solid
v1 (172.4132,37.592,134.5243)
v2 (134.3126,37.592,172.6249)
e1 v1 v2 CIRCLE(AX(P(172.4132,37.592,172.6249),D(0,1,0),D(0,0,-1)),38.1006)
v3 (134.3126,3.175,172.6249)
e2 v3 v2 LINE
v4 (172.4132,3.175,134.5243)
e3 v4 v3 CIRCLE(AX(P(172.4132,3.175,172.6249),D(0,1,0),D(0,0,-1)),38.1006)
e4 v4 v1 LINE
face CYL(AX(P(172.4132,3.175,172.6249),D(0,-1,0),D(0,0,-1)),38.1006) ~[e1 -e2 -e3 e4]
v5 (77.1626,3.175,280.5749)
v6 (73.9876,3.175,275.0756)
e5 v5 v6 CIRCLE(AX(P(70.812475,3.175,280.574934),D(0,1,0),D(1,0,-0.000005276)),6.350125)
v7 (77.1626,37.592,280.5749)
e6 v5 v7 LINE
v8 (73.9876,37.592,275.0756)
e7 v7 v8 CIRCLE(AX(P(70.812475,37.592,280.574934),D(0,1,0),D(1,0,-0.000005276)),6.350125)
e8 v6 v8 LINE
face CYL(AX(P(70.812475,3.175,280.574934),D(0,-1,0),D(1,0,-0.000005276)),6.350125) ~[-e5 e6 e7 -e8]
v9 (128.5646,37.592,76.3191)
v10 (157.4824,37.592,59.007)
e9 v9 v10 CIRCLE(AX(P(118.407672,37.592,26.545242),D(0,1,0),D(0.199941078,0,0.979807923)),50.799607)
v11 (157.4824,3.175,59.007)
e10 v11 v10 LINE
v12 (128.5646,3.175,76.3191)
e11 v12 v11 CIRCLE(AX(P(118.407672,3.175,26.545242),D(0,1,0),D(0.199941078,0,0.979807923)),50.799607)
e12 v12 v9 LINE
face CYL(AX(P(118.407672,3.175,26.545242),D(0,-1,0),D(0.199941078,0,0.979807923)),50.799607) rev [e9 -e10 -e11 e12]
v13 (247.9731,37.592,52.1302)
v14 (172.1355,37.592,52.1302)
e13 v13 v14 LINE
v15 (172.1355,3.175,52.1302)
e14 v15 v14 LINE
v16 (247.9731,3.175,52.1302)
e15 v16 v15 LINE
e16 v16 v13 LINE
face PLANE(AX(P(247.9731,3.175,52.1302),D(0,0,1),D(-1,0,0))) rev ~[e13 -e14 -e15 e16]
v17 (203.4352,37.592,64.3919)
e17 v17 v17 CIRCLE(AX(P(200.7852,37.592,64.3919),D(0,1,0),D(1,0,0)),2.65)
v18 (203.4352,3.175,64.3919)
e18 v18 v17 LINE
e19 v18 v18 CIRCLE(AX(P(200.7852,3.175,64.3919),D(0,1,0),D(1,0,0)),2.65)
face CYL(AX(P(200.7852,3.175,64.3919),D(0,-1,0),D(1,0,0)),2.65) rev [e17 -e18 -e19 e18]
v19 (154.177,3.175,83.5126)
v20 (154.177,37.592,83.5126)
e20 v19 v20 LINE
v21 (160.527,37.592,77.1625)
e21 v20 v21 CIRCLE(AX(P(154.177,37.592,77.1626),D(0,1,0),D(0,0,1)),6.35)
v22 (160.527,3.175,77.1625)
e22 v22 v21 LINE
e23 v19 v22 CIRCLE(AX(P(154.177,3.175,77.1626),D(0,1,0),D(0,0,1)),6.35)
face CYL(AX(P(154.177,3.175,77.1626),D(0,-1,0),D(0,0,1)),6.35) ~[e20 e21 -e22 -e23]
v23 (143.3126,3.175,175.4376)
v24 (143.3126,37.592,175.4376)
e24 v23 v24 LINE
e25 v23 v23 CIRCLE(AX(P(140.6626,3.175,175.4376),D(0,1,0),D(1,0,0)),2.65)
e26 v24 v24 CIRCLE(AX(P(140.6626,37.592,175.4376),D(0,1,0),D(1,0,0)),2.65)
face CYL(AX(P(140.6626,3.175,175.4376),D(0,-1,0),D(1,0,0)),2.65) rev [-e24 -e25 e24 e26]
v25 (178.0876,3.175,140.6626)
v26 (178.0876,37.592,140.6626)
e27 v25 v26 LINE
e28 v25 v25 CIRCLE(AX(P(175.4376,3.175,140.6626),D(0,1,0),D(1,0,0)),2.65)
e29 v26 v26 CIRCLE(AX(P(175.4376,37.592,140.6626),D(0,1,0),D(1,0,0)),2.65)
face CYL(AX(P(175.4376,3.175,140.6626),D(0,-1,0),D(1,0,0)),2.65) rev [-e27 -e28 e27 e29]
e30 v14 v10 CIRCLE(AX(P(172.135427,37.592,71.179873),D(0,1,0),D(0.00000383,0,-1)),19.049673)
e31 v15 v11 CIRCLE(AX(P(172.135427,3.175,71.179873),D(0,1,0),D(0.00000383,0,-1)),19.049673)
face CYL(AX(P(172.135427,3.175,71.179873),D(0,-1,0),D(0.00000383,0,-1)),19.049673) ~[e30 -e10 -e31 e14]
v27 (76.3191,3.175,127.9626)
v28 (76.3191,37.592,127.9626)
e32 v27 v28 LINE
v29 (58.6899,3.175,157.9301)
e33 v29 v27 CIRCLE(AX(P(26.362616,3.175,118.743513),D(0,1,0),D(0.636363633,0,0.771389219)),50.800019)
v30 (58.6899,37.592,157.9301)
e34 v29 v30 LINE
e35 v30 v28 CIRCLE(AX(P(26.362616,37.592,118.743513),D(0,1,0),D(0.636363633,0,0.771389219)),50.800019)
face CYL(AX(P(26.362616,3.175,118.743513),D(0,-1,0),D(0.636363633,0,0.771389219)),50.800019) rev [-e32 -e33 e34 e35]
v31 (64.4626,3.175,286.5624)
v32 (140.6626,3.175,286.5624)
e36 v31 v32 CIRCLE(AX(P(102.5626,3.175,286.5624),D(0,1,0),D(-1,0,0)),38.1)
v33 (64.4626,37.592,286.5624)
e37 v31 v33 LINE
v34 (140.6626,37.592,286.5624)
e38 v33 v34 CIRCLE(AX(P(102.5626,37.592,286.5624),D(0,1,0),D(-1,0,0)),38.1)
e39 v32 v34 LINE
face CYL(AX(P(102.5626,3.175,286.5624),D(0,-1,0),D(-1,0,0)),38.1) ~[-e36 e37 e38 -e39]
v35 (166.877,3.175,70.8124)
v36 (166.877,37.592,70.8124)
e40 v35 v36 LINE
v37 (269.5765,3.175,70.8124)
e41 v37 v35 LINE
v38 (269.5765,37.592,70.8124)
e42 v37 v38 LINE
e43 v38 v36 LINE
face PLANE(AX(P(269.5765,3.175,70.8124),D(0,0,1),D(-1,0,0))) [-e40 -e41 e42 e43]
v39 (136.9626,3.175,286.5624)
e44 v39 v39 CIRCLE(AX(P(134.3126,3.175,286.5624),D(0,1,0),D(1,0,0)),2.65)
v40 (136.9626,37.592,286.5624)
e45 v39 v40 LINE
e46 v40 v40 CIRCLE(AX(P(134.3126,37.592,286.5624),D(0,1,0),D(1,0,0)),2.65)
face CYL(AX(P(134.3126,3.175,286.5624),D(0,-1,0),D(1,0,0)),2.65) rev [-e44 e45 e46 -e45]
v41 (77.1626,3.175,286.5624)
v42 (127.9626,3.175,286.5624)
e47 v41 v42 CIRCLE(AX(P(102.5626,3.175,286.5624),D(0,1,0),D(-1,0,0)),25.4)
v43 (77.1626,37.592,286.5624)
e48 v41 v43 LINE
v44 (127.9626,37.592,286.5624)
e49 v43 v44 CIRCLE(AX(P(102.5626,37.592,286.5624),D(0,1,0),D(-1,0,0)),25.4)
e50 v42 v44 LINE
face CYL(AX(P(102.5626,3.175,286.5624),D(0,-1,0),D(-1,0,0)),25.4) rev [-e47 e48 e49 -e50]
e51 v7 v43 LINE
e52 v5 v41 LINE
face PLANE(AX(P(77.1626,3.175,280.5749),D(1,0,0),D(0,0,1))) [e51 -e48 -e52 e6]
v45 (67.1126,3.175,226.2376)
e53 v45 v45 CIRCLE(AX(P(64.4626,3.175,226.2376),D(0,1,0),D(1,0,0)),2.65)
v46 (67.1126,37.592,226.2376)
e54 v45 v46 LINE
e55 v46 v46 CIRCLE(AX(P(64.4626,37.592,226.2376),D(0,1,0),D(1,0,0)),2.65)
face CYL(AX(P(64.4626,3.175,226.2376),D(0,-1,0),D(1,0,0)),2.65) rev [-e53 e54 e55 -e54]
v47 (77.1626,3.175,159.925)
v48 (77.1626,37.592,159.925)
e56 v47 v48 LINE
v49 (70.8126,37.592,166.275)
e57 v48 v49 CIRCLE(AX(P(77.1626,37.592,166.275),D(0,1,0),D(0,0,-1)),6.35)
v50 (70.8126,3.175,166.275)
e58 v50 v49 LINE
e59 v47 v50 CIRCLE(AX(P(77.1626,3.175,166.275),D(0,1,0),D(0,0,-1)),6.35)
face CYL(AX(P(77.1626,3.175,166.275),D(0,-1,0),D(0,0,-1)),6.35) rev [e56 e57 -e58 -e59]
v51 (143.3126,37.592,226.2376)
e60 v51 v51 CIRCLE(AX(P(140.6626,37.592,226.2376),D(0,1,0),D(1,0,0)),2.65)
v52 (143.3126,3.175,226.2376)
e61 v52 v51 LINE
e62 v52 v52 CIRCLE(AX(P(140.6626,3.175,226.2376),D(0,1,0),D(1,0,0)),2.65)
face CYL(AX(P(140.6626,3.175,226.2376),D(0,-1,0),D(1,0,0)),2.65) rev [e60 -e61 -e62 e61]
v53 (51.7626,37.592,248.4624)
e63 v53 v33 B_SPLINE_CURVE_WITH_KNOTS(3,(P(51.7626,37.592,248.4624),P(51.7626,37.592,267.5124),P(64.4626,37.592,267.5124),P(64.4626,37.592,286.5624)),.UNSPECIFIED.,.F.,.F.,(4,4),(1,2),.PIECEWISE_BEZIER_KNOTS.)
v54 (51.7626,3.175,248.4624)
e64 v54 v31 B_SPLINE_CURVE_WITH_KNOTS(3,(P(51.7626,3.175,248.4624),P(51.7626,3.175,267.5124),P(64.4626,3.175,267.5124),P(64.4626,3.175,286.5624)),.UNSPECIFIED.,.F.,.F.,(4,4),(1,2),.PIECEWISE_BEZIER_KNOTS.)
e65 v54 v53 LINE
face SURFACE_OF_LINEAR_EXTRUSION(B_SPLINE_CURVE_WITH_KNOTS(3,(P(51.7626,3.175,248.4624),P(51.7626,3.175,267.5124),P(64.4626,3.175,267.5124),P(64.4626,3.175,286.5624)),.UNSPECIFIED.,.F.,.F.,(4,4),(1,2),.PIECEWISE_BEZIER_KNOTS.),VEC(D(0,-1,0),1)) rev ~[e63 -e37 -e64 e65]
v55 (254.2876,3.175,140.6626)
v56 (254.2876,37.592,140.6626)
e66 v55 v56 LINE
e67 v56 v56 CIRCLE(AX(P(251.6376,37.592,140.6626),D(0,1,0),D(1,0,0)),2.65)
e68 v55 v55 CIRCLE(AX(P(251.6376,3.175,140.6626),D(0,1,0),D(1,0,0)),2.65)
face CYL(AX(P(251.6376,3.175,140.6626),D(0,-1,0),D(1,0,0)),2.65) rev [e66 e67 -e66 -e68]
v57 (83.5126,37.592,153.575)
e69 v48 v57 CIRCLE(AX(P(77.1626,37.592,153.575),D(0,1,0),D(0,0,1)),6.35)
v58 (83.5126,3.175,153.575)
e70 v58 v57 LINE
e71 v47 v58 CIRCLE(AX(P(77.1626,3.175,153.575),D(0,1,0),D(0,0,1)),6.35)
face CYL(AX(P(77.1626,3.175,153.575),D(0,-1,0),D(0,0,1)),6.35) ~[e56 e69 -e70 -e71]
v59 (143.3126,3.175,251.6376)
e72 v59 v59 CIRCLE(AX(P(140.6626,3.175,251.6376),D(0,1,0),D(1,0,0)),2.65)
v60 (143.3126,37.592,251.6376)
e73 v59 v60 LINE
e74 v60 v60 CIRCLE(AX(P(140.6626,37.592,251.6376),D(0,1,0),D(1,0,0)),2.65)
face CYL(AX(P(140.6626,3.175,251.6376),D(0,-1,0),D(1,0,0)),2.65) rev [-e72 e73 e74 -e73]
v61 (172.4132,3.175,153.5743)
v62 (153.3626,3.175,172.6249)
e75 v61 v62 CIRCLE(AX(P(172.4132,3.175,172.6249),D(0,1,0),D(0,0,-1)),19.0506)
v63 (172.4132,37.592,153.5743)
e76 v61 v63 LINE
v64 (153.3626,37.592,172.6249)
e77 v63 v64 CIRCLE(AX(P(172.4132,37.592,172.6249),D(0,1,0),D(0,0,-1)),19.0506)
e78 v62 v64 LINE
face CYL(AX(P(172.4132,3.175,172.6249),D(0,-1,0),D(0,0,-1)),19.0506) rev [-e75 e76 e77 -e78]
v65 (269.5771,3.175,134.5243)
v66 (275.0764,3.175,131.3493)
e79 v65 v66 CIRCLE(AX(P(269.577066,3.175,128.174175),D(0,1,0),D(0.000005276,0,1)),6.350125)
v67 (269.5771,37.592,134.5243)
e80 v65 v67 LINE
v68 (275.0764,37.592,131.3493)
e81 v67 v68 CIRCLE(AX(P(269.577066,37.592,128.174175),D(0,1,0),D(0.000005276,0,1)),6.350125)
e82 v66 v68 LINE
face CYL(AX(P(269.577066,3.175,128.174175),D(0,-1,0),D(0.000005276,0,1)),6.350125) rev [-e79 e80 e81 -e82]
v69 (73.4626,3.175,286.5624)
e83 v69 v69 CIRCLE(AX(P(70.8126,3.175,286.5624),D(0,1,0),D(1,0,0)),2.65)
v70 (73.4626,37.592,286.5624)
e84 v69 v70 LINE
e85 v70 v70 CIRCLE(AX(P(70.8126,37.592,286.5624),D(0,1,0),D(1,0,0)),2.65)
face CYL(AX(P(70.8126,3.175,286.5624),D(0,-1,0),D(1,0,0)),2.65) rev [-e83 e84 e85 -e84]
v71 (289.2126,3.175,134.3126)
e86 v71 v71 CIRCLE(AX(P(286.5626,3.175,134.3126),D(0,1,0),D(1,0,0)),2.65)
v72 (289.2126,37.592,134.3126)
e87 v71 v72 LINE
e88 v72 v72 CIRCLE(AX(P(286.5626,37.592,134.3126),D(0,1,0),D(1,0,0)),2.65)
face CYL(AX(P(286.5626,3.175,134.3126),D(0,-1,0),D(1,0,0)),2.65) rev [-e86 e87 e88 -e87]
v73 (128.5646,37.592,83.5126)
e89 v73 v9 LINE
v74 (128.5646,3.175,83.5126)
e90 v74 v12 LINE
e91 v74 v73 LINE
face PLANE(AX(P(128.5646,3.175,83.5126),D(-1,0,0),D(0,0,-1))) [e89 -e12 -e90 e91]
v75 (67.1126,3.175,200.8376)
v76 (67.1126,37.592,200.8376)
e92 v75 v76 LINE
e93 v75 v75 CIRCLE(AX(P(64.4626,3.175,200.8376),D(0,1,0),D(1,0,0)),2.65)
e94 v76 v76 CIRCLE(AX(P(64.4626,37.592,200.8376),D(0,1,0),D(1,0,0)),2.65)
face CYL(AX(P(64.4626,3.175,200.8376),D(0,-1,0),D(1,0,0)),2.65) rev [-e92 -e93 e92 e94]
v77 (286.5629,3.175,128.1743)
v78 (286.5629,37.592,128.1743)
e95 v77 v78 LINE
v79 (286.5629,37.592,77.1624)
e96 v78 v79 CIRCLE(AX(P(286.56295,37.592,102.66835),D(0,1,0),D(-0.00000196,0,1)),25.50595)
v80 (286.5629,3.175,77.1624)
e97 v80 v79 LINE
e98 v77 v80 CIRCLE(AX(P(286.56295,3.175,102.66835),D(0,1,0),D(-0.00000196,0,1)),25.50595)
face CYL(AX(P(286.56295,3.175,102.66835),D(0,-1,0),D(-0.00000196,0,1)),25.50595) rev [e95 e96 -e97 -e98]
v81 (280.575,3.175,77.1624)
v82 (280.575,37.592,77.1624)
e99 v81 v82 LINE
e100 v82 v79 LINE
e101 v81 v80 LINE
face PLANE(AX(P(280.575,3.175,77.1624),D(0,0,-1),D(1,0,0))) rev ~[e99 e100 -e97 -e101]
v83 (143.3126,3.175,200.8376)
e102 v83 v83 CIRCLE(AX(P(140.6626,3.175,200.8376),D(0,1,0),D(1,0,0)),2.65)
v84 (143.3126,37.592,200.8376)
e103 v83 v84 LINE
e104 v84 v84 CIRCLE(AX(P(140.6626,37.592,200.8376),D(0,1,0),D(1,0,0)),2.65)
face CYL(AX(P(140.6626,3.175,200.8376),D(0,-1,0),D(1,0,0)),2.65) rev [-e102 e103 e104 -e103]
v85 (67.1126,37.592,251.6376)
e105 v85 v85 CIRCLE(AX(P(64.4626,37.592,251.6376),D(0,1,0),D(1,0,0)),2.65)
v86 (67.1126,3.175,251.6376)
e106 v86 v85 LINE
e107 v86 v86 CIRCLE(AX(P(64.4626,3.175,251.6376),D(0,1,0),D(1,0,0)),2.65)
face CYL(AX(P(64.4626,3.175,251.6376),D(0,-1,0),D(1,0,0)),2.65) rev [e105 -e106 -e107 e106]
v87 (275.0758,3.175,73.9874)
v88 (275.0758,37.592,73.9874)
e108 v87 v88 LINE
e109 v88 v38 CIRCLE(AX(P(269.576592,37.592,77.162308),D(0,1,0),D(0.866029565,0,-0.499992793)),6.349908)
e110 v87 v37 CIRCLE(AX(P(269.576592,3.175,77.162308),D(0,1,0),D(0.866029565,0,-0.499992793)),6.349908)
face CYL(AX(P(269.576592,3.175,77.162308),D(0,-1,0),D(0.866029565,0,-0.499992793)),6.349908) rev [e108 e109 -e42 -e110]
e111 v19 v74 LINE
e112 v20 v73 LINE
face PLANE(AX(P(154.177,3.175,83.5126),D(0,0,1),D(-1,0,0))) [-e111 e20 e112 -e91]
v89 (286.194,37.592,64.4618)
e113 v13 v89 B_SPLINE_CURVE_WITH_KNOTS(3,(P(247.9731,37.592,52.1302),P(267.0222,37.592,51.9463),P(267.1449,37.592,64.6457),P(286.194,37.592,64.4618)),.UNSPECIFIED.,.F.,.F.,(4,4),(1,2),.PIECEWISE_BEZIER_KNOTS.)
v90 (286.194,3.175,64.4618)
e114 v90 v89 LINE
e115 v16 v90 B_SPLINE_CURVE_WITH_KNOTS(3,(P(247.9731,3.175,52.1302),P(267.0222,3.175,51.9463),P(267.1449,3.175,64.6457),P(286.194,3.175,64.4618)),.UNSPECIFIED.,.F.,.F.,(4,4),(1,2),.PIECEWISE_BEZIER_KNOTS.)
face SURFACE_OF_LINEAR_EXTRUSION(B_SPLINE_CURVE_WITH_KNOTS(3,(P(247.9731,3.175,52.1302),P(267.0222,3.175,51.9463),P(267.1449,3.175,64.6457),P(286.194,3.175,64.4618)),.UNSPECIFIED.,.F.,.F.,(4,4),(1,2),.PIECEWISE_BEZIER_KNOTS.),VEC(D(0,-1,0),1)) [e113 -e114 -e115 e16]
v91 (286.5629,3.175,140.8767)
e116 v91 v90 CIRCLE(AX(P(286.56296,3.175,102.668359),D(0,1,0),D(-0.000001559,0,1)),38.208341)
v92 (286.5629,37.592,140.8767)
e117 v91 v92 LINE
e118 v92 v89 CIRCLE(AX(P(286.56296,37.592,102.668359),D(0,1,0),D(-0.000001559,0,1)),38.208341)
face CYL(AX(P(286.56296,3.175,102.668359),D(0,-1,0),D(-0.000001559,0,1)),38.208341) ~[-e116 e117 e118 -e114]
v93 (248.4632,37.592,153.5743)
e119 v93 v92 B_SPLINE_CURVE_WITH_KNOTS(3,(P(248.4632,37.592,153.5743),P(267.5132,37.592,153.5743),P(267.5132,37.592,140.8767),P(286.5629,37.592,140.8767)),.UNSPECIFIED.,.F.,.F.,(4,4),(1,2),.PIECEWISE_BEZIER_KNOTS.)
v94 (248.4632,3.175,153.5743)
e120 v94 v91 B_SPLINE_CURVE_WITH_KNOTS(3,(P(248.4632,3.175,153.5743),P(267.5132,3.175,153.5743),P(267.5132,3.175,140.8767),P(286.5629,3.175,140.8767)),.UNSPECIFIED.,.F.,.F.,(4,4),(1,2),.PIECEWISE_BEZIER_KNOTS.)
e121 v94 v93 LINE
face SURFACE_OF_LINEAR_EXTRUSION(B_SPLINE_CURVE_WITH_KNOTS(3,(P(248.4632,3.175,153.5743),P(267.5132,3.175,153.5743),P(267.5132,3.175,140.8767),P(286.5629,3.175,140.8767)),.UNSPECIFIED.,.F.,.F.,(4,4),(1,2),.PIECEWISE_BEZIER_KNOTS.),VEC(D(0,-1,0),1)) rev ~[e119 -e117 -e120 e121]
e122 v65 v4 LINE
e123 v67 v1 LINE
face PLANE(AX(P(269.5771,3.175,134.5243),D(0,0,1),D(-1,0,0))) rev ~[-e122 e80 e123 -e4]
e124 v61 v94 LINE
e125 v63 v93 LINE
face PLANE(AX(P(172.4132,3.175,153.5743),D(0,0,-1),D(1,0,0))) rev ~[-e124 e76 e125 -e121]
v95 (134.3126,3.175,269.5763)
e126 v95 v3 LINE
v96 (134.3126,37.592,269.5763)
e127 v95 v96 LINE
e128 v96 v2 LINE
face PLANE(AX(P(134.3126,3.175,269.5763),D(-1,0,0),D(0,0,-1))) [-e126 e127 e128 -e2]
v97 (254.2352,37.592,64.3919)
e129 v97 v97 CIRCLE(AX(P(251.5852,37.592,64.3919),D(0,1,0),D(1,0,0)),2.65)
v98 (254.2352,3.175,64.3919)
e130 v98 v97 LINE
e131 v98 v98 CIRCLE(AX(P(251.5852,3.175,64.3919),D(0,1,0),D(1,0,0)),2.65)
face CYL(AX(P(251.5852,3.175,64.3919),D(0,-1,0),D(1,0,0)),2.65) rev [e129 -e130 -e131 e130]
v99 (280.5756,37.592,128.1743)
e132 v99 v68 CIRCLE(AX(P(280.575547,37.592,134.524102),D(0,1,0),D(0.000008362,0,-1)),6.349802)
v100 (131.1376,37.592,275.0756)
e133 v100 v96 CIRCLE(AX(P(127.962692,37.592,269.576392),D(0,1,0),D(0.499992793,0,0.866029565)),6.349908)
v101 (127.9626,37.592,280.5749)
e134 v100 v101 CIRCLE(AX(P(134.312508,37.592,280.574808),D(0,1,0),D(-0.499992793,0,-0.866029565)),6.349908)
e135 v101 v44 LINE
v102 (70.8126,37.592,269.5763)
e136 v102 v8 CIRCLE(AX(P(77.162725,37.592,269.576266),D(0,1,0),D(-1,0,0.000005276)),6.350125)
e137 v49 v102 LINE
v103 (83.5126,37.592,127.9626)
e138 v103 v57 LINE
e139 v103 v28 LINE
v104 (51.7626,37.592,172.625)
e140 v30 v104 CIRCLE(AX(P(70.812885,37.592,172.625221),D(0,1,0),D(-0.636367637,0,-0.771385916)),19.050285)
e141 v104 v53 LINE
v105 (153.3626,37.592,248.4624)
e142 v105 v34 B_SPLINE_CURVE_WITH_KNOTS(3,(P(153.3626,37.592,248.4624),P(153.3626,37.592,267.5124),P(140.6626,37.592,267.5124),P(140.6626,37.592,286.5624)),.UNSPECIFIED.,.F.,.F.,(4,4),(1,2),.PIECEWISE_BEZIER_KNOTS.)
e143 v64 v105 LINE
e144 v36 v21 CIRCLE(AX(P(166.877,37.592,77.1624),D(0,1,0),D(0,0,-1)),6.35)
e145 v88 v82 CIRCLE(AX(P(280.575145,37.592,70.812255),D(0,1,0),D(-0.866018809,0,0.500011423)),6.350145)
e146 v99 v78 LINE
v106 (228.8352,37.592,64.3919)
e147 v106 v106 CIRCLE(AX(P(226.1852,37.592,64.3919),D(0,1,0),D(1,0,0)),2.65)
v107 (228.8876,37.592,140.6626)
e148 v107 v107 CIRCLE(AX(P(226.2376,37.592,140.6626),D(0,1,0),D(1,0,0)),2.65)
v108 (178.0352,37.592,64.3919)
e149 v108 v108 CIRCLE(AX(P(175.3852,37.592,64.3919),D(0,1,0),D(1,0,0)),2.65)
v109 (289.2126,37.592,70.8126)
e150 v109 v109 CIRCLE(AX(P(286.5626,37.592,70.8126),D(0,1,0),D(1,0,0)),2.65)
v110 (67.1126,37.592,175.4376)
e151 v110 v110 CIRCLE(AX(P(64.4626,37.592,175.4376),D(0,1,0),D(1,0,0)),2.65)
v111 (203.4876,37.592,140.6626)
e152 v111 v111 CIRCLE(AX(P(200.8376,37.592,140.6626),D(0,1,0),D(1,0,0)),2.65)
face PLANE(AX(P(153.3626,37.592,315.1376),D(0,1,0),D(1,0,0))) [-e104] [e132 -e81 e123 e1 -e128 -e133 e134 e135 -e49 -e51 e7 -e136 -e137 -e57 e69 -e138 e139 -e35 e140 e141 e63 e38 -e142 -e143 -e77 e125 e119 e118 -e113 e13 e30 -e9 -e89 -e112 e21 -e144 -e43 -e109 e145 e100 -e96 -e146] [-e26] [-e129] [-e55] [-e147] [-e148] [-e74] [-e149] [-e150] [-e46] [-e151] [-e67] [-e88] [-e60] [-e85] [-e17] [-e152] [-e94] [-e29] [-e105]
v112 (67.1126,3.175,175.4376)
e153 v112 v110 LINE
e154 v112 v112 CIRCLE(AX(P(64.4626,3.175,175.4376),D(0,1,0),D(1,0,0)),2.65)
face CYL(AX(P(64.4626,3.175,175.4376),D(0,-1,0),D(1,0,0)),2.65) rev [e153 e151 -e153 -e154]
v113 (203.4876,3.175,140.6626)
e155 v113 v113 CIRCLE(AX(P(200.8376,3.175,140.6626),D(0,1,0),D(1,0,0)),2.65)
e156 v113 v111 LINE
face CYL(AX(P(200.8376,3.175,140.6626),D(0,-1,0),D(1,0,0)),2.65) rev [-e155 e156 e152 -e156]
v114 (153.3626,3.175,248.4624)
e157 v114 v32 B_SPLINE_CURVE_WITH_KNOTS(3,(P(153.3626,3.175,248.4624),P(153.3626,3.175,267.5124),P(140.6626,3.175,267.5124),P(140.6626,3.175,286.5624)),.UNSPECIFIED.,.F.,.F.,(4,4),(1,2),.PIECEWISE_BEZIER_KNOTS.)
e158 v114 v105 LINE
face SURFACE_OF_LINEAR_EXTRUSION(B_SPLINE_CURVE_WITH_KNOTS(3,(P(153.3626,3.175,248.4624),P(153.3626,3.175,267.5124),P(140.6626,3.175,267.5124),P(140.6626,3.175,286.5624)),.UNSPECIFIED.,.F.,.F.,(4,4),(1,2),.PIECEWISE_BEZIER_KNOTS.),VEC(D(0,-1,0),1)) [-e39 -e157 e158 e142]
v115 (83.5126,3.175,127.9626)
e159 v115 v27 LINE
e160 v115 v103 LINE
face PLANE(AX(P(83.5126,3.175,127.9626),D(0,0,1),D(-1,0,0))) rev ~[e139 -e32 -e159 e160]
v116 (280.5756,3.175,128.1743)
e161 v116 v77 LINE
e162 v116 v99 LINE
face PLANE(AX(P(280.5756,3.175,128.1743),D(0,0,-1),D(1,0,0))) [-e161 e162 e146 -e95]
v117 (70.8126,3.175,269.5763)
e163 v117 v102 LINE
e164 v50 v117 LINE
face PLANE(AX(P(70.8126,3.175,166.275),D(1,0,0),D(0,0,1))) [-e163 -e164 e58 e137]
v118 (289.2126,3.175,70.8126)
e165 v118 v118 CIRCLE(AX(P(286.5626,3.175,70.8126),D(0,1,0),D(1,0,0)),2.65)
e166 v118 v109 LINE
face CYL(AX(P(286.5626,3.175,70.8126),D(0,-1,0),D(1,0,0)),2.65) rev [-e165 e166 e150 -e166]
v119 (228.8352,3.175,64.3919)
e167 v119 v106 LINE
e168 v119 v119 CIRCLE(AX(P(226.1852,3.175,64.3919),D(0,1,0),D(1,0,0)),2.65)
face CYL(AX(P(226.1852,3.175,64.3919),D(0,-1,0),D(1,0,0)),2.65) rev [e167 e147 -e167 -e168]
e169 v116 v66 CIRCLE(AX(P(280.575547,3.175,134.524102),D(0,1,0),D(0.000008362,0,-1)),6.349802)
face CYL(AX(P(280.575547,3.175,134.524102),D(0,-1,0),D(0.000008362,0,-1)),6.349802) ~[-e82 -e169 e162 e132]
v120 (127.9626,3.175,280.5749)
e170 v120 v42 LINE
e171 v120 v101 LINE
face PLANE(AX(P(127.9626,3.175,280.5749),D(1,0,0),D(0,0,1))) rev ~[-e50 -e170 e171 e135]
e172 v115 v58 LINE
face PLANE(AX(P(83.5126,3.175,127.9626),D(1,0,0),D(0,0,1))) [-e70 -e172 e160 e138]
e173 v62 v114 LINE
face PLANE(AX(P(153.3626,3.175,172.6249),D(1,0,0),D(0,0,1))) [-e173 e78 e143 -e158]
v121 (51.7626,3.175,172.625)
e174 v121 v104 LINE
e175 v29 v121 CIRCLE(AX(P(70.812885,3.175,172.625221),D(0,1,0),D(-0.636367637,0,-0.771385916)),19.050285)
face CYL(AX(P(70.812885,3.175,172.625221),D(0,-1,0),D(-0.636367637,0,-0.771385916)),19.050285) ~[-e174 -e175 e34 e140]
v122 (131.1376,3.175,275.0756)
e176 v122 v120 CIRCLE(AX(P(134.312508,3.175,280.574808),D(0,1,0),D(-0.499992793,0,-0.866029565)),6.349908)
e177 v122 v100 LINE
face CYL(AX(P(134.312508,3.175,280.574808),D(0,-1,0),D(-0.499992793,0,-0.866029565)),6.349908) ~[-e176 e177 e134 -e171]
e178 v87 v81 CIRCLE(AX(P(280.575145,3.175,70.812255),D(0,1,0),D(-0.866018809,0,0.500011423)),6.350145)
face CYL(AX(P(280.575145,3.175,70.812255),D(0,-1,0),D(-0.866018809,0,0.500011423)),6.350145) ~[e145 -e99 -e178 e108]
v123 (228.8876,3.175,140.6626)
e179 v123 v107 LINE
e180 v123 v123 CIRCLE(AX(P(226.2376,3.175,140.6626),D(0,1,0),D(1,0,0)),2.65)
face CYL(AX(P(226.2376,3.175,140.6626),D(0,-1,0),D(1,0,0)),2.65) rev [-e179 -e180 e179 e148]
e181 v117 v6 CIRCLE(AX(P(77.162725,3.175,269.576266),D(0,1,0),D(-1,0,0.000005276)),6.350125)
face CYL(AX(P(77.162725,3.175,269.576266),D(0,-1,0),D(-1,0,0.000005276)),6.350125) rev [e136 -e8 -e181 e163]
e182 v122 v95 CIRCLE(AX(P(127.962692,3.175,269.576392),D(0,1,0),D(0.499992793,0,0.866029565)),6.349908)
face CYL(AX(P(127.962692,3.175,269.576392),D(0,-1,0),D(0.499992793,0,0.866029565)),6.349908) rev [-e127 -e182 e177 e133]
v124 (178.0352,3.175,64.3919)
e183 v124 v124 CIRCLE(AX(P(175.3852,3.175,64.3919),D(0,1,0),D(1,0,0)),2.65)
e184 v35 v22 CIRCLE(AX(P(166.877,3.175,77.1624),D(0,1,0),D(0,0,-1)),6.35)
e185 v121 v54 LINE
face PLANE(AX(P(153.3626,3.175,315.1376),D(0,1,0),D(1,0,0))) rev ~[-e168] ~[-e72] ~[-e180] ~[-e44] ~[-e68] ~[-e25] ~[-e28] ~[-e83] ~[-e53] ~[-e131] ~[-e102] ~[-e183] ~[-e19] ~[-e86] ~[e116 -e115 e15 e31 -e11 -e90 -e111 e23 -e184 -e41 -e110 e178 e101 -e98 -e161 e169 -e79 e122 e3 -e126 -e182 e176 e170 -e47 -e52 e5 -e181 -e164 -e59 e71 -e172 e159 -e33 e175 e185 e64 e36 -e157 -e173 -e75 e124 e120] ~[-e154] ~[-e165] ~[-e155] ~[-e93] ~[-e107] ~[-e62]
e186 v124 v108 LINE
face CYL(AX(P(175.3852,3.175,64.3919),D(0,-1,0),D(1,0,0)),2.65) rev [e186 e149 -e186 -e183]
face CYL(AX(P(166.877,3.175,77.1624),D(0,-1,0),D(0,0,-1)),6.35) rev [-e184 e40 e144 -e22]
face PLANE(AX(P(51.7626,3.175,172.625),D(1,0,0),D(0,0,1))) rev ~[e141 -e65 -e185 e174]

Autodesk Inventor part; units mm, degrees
ref_plane "YZ Plane" through (0, 0, 0) normal (1, 0, 0) x (0, 1, 0)
ref_plane "XZ Plane" through (0, 0, 0) normal (0, 1, 0) x (-1, 0, 0)
ref_plane "Work Plane1" through (153.3626, 3.175, 315.1376) normal (0, 1, 0) x (1, 0, 0)
sketch "Sketch2" plane through (153.3626, 3.175, 315.1376) normal (0, 1, 0) x (1, 0, 0)
  line L0 (-69.85, 187.175) -> (-77.0435, 187.175)
  circle A0 centre (-88.9, 139.7) radius 2.65
  circle A1 centre (-88.9, 114.3) radius 2.65
  line L1 (-101.6, 142.5126) -> (-101.6, 66.6752)
  line L2 (-76.2, 34.5627) -> (-76.2, 28.5752)
  line L3 (-57.0148, 33.9239) -> (-71.3794, 33.9239) construction
  arc A2 (-82.55, 45.5613) -> (-79.375, 40.062) centre (-76.2, 45.5613) ccw
  line L4 (-76.2, 155.2126) -> (-76.2, 155.2126)
  line L5 (-19.05, 45.5613) -> (-19.05, 142.5127)
  line L6 (-25.4, 34.5627) -> (-25.4, 28.5752)
  arc A3 (-22.225, 40.062) -> (-25.4, 34.5627) centre (-19.05, 34.5627) ccw
  arc A4 (-22.225, 40.062) -> (-19.05, 45.5613) centre (-25.4, 45.5613) ccw
  arc A5 (19.0506, 161.5633) -> (0, 142.5127) centre (19.0506, 142.5127) ccw
  arc A6 (19.0506, 180.6133) -> (-19.05, 142.5127) centre (19.0506, 142.5127) ccw
  line L7 (-24.798, 231.625) -> (-24.798, 238.8185)
  circle A7 centre (22.0226, 250.7457) radius 2.65
  circle A8 centre (47.4226, 250.7457) radius 2.65
  arc A9 (133.2003, 174.2609) -> (132.8314, 250.6758) centre (133.2003, 212.4693) ccw
  line L8 (116.2139, 244.3252) -> (13.5144, 244.3252)
  arc A10 (133.2003, 186.9633) -> (133.2003, 237.9752) centre (133.2003, 212.4693) ccw
  line L9 (127.2124, 237.9752) -> (133.2003, 237.9752)
  arc A11 (121.7132, 241.1502) -> (127.2124, 237.9752) centre (127.2124, 244.3252) ccw
  arc A12 (121.7132, 241.1502) -> (116.2139, 244.3252) centre (116.2139, 237.9752) ccw
  line L10 (0.8144, 231.625) -> (-24.798, 231.625)
  line L11 (116.2145, 180.6133) -> (19.0506, 180.6133)
  arc A13 (127.213, 186.9633) -> (121.7138, 183.7883) centre (127.213, 180.6133) ccw
  arc A14 (116.2145, 180.6133) -> (121.7138, 183.7883) centre (116.2145, 186.9633) ccw
  line L12 (127.213, 186.9633) -> (133.2003, 186.9633)
  arc A15 (-24.798, 238.8185) -> (4.1198, 256.1306) centre (-34.9551, 288.5928) ccw
  arc A16 (18.7729, 263.0074) -> (4.1198, 256.1306) centre (18.7729, 243.9574) ccw
  line L13 (0, 142.5127) -> (0, 66.6752)
  arc A17 (-94.6727, 157.2075) -> (-101.6, 142.5126) centre (-82.55, 142.5126) ccw
  arc A18 (-94.6727, 157.2075) -> (-77.0435, 187.175) centre (-127, 196.3941) ccw
  line L14 (19.0506, 161.5633) -> (95.1006, 161.5633)
  line L15 (-101.6, 66.6752) -> (-101.6, 47.6252) construction
  line L16 (-101.6, 47.6252) -> (-88.9, 47.6252) construction
  line L17 (-88.9, 47.6252) -> (-88.9, 28.5752) construction
  spline S0 degree 3 poles (-101.6, 66.6752) (-101.6, 47.6252) (-88.9, 47.6252) (-88.9, 28.5752) knots 1 1 1 1 2 2 2 2
  spline S1 degree 3 poles (0, 66.6752) (0, 47.6252) (-12.7, 47.6252) (-12.7, 28.5752) knots 1 1 1 1 2 2 2 2
  line L18 (0, 66.6752) -> (0, 47.6252) construction
  line L19 (0, 47.6252) -> (-12.7, 47.6252) construction
  line L20 (-12.7, 47.6252) -> (-12.7, 28.5752) construction
  spline S2 degree 3 poles (94.6105, 263.0074) (113.6596, 263.1913) (113.7823, 250.4919) (132.8314, 250.6758) knots 1 1 1 1 2 2 2 2
  line L21 (94.6105, 263.0074) -> (113.6596, 263.1913) construction
  line L22 (113.6596, 263.1913) -> (113.7823, 250.4919) construction
  line L23 (113.7823, 250.4919) -> (132.8314, 250.6758) construction
  spline S3 degree 3 poles (95.1006, 161.5633) (114.1506, 161.5633) (114.1506, 174.2609) (133.2003, 174.2609) knots 1 1 1 1 2 2 2 2
  line L24 (95.1006, 161.5633) -> (114.1506, 161.5633) construction
  line L25 (114.1506, 161.5633) -> (114.1506, 174.2609) construction
  line L26 (114.1506, 174.2609) -> (133.2003, 174.2609) construction
  circle A19 centre (-88.9, 88.9) radius 2.65
  circle A20 centre (-88.9, 63.5) radius 2.65
  circle A21 centre (-82.55, 28.5752) radius 2.65
  circle A22 centre (-19.05, 28.5752) radius 2.65
  circle A23 centre (-12.7, 63.5) radius 2.65
  circle A24 centre (-12.7, 88.9) radius 2.65
  circle A25 centre (-12.7, 114.3) radius 2.65
  circle A26 centre (-12.7, 139.7) radius 2.65
  circle A27 centre (22.075, 174.475) radius 2.65
  circle A28 centre (47.475, 174.475) radius 2.65
  circle A29 centre (72.875, 174.475) radius 2.65
  circle A30 centre (98.275, 174.475) radius 2.65
  circle A31 centre (133.2, 180.825) radius 2.65
  circle A32 centre (133.2, 244.325) radius 2.65
  circle A33 centre (98.2226, 250.7457) radius 2.65
  circle A34 centre (72.8226, 250.7457) radius 2.65
  arc A35 (-88.9, 28.5752) -> (-12.7, 28.5752) centre (-50.8, 28.5752) ccw
  line L27 (94.6105, 263.0074) -> (18.7729, 263.0074)
  line L28 (-69.85, 187.175) -> (-69.85, 161.5626)
  line L29 (-82.55, 148.8626) -> (-82.55, 45.5613)
  arc A36 (-76.2, 34.5627) -> (-79.375, 40.062) centre (-82.55, 34.5627) ccw
  arc A37 (0.8144, 231.625) -> (7.1644, 237.9751) centre (0.8144, 237.975) ccw
  arc A38 (13.5144, 244.3252) -> (7.1644, 237.9751) centre (13.5144, 237.9752) ccw
  arc A39 (-76.2, 155.2126) -> (-69.85, 161.5626) centre (-76.2, 161.5626) ccw
  arc A40 (-76.2, 155.2126) -> (-82.55, 148.8626) centre (-76.2, 148.8626) ccw
  arc A41 (-76.2, 28.5752) -> (-25.4, 28.5752) centre (-50.8, 28.5752) ccw
  point P0 (19.2624, 180.825)
  point P1 (-19.05, 142.5126)
  point P2 (-153.3626, 315.1376)
  dimension "d62" = 5.3
  dimension "d64" = 7.1935
  dimension "d65" = 25.6124
  dimension "d72" = 12.7
  dimension "d73" = 19.05
  dimension "d74" = 19.05
  dimension "d75" = 6.4205
  dimension "d76" = 25.4
  dimension "d77" = 25.4
  dimension "d78" = 25.4
  dimension "d104" = 6.35
  dimension "d105" = 6.35
  dimension "d106" = 6.35
  dimension "d107" = 6.35
  dimension "d109" = 6.35
  dimension "d110" = 6.35
  dimension "d111" = 19.05
  dimension "d112" = 19.05
  dimension "d114" = 34.9248
  dimension "d115" = 31.75
  dimension "d116" = 25.4
  dimension "d117" = 25.4
  dimension "d118" = 25.4
  dimension "d122" = 38.1
  dimension "d124" = 5.3
  dimension "d125" = 6.35
  dimension "d126" = 6.35
  dimension "d127" = 6.35
  dimension "d128" = 5.9875
  dimension "d129" = 12.7
  dimension "d130" = 19.05
  dimension "d131" = 19.05
  dimension "d132" = 16.9861
  dimension "d133" = 6.35
  dimension "d134" = 96.9515
  dimension "d135" = 5.4993
  dimension "d136" = 25.4
  dimension "d137" = 102.5626
  dimension "d138" = 286.5624
  dimension "d139" = 25.4
  dimension "d140" = 5.9875
  dimension "d141" = 12.7
  dimension "d142" = 12.7
  dimension "d143" = 19.05
  dimension "d144" = 19.05
  dimension "d145" = 12.7
  dimension "d146" = 25.4
  dimension "d147" = 19.0506
  dimension "d148" = 25.4
  dimension "d149" = 25.4
  dimension "d150" = 25.4
  dimension "d151" = 5.3
  dimension "d152" = 19.05
  dimension "d153" = 12.6976
  dimension "d154" = 19.0497
  dimension "d155" = 38.2083
  dimension "d156" = 25.5059
  dimension "d157" = 6.35
  dimension "d158" = 6.35
  dimension "d159" = 97.1639
  dimension "d160" = 10.9985
  dimension "d161" = 5.4993
  dimension "d162" = 5.9873
  dimension "d163" = 5.3
extrude "Extrusion2" add sketch "Sketch2" along normal blind 34.417
properties part number "Gearbox Cover Large"
